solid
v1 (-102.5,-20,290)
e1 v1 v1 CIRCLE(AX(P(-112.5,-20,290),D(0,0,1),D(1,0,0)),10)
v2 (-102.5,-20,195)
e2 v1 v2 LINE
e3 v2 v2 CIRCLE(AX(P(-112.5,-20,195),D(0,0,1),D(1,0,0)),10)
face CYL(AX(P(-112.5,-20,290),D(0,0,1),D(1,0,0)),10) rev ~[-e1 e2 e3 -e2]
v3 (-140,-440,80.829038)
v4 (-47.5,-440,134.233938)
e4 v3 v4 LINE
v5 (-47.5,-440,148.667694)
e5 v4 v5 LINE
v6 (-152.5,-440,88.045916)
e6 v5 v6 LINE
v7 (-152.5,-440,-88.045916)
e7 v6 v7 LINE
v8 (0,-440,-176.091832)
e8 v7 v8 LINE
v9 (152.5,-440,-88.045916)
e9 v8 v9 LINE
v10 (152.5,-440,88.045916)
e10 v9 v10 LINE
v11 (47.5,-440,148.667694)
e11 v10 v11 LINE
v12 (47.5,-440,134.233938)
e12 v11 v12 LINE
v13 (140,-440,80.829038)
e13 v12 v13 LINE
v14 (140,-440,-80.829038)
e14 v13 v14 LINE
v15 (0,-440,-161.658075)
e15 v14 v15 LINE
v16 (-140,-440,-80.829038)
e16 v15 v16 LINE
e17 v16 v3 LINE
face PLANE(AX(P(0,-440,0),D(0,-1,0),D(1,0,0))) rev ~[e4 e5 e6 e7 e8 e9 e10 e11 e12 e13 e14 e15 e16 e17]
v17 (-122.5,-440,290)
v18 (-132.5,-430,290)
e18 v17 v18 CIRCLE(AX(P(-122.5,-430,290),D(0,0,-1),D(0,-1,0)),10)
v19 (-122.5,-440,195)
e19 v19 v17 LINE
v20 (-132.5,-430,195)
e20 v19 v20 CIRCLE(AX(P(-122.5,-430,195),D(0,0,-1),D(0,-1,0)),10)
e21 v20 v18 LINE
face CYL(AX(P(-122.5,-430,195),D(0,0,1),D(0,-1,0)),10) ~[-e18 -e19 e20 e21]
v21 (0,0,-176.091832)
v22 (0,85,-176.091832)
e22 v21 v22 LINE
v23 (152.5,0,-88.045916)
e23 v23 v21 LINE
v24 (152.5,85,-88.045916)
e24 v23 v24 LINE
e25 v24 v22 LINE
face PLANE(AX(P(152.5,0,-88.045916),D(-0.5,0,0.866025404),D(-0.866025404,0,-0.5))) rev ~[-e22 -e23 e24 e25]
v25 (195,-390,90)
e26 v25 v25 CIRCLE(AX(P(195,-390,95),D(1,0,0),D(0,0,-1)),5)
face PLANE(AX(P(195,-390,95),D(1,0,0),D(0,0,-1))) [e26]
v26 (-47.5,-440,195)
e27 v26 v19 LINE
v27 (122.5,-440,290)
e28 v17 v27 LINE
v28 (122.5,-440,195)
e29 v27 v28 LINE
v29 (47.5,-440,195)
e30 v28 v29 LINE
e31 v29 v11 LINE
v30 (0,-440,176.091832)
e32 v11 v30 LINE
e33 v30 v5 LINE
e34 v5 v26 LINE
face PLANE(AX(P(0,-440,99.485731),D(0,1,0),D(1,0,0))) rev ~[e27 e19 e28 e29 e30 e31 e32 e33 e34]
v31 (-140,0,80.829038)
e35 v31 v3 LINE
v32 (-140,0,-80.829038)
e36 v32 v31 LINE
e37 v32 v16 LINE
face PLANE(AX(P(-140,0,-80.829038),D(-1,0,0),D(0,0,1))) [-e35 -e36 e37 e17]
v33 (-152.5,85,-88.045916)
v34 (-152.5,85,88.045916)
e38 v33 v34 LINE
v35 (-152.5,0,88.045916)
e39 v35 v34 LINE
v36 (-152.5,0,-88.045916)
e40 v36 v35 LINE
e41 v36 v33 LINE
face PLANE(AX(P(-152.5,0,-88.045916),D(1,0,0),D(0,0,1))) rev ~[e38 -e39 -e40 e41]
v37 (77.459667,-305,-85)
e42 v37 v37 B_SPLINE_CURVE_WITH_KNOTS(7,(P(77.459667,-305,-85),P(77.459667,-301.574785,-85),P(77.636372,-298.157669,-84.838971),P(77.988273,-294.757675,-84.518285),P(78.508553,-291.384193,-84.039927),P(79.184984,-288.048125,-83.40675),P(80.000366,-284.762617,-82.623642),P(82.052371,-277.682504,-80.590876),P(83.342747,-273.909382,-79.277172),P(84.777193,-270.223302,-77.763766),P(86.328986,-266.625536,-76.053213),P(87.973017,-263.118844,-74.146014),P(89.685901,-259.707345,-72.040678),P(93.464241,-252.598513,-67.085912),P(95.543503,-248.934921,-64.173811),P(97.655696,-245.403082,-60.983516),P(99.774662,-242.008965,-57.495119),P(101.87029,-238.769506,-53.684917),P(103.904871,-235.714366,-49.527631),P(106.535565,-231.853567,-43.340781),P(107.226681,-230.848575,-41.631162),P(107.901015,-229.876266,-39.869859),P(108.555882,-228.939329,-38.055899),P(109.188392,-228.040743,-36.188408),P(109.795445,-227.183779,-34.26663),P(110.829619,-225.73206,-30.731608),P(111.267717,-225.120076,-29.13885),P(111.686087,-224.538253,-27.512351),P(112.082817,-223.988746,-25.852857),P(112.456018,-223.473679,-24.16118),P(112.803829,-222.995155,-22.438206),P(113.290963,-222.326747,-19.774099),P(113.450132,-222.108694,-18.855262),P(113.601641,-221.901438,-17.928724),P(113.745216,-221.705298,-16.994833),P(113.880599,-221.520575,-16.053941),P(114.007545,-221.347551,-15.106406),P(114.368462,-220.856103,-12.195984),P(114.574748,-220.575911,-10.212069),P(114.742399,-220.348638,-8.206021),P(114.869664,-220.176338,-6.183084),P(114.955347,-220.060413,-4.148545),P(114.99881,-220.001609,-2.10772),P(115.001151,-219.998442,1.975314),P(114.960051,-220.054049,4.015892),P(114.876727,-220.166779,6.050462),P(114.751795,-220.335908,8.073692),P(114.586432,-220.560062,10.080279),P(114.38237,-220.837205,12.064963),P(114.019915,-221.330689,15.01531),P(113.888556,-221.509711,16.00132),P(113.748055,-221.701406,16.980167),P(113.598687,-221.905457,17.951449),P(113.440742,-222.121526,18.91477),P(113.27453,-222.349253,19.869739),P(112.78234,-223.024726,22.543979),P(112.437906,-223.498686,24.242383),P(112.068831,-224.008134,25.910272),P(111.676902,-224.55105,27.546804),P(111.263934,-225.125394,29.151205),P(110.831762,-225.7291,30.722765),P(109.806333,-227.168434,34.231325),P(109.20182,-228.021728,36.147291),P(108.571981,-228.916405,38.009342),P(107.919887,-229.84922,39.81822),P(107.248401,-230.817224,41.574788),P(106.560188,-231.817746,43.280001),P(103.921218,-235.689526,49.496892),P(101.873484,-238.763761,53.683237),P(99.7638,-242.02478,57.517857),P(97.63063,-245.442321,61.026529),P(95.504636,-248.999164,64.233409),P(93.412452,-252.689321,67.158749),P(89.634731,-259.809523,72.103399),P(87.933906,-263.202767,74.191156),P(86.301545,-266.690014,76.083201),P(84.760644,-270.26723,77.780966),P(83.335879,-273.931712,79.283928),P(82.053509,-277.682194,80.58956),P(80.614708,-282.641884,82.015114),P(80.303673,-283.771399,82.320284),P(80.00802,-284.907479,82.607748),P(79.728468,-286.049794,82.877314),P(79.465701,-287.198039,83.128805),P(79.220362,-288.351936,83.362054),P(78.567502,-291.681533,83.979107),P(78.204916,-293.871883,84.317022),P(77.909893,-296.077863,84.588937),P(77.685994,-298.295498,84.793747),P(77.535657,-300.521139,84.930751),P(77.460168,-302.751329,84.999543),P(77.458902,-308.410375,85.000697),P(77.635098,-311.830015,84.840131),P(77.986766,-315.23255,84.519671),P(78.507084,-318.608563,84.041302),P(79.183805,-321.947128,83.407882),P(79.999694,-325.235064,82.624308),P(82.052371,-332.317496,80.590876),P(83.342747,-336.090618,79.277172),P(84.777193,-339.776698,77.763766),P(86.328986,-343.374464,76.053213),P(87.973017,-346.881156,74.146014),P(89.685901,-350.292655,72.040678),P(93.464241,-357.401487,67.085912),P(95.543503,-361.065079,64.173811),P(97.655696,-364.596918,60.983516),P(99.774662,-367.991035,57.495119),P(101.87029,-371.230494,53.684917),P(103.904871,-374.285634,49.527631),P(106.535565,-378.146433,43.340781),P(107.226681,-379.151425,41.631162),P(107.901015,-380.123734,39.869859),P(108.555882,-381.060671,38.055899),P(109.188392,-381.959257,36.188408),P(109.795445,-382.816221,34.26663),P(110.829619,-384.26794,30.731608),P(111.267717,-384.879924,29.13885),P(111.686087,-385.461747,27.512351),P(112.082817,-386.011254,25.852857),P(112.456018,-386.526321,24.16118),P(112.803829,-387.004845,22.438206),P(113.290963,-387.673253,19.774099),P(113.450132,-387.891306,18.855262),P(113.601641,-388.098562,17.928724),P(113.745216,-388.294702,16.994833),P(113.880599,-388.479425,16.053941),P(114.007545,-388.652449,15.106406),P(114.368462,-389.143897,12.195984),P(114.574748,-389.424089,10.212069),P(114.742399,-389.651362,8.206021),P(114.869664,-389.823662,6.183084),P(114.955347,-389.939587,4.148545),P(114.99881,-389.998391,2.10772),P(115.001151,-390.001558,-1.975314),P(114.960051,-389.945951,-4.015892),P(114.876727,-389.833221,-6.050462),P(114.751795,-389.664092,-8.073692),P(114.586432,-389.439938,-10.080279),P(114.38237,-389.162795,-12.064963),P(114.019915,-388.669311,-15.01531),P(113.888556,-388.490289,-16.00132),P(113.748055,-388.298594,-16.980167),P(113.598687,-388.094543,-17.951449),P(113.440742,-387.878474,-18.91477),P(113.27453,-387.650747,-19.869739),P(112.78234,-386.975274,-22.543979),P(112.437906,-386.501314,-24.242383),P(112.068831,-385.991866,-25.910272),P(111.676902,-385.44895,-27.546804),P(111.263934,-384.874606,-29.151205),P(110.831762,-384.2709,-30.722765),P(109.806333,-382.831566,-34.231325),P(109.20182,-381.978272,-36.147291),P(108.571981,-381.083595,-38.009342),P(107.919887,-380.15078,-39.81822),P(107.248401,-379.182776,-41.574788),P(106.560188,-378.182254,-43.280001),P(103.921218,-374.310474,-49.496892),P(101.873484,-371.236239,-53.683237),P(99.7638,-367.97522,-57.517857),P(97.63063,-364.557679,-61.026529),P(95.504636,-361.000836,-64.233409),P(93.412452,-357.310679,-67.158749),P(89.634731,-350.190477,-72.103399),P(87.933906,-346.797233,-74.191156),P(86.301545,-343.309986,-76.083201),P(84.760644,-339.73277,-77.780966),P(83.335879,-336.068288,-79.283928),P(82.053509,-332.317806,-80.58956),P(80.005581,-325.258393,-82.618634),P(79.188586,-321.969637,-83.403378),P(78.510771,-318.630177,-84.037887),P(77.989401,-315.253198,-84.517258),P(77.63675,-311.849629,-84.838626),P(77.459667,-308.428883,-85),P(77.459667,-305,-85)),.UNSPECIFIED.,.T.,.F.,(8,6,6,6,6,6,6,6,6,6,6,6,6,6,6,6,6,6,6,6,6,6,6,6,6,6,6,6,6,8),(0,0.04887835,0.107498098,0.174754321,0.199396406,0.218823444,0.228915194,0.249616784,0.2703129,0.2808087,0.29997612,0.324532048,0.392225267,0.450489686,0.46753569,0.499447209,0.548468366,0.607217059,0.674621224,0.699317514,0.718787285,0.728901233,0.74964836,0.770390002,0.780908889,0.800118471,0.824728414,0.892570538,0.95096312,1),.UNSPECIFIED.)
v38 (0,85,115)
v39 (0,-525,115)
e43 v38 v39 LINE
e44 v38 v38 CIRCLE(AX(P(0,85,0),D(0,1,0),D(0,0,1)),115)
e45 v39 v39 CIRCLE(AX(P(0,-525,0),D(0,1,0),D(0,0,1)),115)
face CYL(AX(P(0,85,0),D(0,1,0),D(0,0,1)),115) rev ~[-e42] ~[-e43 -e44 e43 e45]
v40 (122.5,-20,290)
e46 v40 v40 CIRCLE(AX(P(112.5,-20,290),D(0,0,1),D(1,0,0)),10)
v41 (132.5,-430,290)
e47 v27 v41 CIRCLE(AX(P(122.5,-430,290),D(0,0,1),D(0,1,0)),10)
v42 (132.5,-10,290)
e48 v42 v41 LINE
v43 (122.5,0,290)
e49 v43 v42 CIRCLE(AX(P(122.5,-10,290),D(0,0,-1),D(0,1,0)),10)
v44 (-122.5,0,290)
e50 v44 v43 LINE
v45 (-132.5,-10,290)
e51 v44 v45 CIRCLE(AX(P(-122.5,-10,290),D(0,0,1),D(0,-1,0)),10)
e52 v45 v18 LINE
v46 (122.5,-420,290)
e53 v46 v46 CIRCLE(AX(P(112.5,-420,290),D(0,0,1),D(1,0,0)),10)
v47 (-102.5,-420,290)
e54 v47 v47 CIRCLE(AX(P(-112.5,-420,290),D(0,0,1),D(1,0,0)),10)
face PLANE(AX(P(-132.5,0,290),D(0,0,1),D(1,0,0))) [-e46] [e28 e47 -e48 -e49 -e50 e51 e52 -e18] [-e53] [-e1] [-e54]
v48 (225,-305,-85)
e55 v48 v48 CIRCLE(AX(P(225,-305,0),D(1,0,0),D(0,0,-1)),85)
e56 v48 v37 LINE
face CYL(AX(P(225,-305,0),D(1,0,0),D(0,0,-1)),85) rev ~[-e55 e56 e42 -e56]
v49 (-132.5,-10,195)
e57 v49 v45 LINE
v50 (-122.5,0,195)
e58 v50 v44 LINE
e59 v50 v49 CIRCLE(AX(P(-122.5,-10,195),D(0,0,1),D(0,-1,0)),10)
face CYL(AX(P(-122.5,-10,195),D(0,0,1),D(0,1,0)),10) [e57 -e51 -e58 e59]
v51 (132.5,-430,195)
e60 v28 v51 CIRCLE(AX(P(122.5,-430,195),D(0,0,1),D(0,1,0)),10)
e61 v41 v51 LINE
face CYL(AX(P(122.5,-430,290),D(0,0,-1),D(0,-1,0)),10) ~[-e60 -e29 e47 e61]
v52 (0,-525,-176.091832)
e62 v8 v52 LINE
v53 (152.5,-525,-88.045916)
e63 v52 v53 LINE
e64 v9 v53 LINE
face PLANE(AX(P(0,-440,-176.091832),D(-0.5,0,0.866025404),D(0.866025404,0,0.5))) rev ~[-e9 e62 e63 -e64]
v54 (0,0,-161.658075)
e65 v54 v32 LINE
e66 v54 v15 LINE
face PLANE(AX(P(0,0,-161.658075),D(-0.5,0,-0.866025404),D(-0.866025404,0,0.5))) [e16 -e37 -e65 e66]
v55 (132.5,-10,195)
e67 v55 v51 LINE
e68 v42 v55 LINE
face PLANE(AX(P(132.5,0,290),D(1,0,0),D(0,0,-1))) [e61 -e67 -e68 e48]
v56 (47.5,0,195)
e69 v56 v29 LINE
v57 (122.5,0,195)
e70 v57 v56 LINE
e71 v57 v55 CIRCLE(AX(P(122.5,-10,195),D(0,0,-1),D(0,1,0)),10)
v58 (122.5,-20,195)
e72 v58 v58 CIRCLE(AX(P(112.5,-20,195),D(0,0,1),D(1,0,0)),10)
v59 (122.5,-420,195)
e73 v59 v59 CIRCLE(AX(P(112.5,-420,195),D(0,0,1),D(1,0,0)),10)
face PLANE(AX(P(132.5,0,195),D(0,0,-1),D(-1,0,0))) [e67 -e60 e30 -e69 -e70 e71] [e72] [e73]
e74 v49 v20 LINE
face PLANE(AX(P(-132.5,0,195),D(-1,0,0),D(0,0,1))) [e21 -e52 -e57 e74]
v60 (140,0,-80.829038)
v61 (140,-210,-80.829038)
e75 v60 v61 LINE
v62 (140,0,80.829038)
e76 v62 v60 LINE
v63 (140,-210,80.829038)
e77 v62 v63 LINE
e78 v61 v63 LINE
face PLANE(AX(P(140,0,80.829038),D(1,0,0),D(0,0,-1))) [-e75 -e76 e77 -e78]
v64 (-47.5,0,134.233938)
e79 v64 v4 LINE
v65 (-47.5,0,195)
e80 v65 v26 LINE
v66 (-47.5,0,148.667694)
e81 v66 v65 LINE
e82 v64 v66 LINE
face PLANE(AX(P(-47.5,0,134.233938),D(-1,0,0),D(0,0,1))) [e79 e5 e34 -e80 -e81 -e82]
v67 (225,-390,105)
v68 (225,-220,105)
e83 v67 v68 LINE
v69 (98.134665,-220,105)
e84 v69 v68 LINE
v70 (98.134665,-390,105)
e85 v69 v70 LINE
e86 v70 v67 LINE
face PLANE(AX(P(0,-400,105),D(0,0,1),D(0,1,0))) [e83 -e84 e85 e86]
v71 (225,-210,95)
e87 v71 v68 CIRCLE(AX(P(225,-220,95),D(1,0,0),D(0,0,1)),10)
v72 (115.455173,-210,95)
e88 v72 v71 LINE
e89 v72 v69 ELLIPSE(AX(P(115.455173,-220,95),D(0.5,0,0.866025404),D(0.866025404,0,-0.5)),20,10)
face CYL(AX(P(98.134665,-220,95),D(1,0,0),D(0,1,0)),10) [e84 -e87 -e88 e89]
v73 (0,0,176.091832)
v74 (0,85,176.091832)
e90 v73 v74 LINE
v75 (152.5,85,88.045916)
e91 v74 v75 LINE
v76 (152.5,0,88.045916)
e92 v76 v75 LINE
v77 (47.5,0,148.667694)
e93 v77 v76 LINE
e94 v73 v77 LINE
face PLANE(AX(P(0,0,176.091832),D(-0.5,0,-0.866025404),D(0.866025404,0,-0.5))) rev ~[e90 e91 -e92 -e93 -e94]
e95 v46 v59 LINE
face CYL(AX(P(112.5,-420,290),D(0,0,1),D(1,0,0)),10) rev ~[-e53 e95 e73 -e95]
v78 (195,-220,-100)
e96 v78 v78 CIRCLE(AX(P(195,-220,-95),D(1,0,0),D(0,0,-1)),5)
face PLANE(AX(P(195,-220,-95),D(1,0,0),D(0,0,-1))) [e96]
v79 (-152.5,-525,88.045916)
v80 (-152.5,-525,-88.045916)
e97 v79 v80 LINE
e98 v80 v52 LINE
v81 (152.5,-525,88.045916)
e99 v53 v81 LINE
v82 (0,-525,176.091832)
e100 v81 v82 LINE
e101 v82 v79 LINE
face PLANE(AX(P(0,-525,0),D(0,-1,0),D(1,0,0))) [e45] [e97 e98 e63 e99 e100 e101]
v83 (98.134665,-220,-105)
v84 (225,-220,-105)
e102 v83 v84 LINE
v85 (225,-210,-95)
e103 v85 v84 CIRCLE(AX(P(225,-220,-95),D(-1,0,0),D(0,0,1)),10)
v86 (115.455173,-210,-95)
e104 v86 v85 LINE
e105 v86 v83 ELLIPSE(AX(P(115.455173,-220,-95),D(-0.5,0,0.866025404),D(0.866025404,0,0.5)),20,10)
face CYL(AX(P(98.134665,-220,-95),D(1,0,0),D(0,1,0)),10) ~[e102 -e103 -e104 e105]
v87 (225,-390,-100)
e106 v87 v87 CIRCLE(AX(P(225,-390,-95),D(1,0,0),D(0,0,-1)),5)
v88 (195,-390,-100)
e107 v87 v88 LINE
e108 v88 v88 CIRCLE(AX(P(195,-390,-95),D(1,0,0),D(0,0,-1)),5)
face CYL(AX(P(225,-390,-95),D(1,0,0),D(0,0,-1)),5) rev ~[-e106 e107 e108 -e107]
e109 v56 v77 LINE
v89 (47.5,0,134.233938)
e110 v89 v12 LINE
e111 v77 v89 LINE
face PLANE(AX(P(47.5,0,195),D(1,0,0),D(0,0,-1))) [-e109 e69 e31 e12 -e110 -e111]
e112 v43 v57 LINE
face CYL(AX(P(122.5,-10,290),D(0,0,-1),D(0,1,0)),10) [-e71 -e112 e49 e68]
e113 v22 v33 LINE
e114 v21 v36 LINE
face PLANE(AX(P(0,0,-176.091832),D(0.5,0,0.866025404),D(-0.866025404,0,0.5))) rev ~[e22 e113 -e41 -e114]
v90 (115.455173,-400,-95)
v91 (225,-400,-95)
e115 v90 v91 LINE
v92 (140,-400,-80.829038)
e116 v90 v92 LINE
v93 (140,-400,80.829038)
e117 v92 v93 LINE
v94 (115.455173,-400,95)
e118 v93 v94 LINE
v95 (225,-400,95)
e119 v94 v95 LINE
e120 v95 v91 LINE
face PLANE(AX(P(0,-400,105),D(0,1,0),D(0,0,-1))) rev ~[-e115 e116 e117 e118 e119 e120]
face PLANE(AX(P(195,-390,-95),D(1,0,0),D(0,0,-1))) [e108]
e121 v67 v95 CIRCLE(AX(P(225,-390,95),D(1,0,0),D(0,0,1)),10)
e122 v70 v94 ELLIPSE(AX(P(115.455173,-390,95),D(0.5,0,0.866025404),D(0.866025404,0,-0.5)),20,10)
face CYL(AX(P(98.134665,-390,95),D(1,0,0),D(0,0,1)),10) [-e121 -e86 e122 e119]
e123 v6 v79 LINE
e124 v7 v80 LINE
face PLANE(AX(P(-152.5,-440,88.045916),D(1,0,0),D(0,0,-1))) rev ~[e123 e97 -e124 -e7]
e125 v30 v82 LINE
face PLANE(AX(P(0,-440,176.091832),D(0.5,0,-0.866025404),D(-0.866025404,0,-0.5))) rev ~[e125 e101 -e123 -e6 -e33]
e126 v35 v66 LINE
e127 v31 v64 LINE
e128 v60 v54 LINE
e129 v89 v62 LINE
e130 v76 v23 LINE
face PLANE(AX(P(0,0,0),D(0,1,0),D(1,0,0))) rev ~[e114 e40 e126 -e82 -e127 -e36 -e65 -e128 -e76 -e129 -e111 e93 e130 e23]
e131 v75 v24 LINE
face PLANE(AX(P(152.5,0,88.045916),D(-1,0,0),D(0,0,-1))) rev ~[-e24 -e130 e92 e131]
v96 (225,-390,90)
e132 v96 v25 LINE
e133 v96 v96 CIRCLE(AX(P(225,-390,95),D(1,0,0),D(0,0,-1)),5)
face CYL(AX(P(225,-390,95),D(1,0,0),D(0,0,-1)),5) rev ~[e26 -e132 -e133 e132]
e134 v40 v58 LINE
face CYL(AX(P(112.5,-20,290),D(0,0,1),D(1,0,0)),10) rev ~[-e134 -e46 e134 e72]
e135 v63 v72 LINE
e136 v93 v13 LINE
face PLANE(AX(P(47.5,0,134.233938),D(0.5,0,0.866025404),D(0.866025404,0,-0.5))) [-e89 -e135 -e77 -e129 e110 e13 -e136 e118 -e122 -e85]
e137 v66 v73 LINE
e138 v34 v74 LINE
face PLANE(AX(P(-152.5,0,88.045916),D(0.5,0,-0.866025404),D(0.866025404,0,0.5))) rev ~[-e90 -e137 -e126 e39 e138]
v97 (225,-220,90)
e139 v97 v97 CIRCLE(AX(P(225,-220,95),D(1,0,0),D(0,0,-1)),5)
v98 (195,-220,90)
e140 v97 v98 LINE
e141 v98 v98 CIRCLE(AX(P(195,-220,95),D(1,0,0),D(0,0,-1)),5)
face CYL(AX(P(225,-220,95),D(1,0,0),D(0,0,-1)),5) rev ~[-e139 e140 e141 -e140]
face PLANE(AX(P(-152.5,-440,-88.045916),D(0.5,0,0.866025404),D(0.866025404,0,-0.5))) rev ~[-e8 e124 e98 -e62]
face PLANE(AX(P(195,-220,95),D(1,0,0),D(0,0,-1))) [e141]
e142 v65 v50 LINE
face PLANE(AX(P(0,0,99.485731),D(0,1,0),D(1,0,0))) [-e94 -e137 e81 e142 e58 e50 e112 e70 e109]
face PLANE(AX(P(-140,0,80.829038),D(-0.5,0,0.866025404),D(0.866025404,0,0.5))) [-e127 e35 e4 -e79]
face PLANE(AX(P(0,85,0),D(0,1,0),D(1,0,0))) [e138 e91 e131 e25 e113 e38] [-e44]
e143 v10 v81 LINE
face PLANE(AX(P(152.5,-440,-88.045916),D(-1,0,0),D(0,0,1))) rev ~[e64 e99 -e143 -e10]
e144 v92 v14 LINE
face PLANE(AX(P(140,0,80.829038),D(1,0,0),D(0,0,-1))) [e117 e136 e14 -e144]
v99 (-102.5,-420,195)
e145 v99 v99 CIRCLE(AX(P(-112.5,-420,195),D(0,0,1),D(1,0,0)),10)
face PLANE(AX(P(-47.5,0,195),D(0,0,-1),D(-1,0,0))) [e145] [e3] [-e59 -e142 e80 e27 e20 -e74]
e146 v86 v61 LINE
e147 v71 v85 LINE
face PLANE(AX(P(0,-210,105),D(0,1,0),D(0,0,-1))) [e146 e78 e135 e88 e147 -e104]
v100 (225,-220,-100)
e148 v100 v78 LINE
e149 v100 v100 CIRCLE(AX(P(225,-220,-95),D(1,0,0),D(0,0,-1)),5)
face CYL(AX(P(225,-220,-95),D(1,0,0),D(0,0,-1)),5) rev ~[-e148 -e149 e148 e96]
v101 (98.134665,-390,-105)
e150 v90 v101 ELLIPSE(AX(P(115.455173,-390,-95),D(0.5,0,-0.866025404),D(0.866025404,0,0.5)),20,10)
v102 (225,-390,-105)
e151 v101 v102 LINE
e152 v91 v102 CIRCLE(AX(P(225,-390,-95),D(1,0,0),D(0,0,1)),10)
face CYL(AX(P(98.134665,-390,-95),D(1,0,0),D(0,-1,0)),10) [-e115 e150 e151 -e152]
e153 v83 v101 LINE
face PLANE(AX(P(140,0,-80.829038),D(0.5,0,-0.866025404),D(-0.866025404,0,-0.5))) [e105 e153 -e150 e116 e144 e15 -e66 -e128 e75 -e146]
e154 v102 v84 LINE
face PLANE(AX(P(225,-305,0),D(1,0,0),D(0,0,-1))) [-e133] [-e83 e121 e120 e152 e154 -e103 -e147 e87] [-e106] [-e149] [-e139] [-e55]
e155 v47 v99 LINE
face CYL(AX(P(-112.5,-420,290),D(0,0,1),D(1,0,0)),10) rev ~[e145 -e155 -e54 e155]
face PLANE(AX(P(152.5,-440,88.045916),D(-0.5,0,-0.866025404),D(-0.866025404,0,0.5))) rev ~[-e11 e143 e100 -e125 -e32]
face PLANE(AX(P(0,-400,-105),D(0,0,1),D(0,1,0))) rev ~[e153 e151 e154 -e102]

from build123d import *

# Parameters (mm, degrees)
EXTRUDE_1_DEPTH             = 85
EXTRUDE_798_DEPTH           = 440
EXTRUDE_2_DEPTH             = 85
EXTRUDE_1413_DEPTH          = 85
EXTRUDE_1413_DEPTH_BACK     = 140
SKETCH_10_W                 = 210
SKETCH_10_H                 = 190
SKETCH_5_R                  = 115
CUT_EXTRUDE_1475_DEPTH      = 712.91642768
CUT_EXTRUDE_1609_REACH      = 710.683
CUT_EXTRUDE_1609_END_RADIUS = 115
SKETCH_12_R                 = 85
CUT_EXTRUDE_2000_REACH      = 739.219
SKETCH_13_R                 = 10
SKETCH_14_R                 = 5
CUT_EXTRUDE_6_DEPTH         = 30
FILLET_2_R                  = 10
FILLET_3_R                  = 10


with BuildPart() as part:
    # Эскиз2 → Боковой многогранник 1 (new body)
    with BuildSketch(Plane(origin=(0, 0, 0), x_dir=(1, 0, 0), z_dir=(0, 1, 0))):
        Polygon((0, 176.091832103), (-152.5, 88.045916051), (-152.5, -88.045916051), (0, -176.091832103), (152.5, -88.045916051), (152.5, 88.045916051), align=None)
    extrude(amount=EXTRUDE_1_DEPTH)

    # Sketch 344 → Extrude 798 (add)
    with BuildSketch(Plane(origin=(0, 0, 0), x_dir=(1, 0, 0), z_dir=(0, 1, 0))):
        Polygon((0, 161.658075373), (-140, 80.829037687), (-140, -80.829037687), (-47.5, -134.233937587), (-47.5, -195), (-132.5, -195), (-132.5, -290), (132.5, -290), (132.5, -195), (47.5, -195), (47.5, -134.233937587), (140, -80.829037687), (140, 80.829037687), align=None)
    extrude(amount=-EXTRUDE_798_DEPTH)

    # Эскиз4 → Боковой многогранник 2 (add)
    with BuildSketch(Plane.XZ.offset(440)):
        Polygon((0, -176.091832103), (152.5, -88.045916051), (152.5, 88.045916051), (0, 176.091832103), (-152.5, 88.045916051), (-152.5, -88.045916051), align=None)
    extrude(amount=EXTRUDE_2_DEPTH)

    # Эскиз10 → Extrude 1413 (add, two sides: drawn at the far end of the back side and taken through both)
    with BuildSketch(Plane(origin=(140, 0, 0), x_dir=(0, 0, -1), z_dir=(1, 0, 0)).offset(-EXTRUDE_1413_DEPTH_BACK)):
        with Locations((0, -305)):
            Rectangle(SKETCH_10_W, SKETCH_10_H)
    extrude(amount=EXTRUDE_1413_DEPTH + EXTRUDE_1413_DEPTH_BACK)

    # Эскиз5 → Cut-Extrude 1475 (cut, through all)
    with BuildSketch(Plane(origin=(0, 85, 0), x_dir=(1, 0, 0), z_dir=(0, 1, 0))):
        with Locations(Location((0, 0, 0), (0, 0, 270))):
            Circle(SKETCH_5_R)
    extrude(amount=-CUT_EXTRUDE_1475_DEPTH, mode=Mode.SUBTRACT)

    # Cut-Extrude 1609: up to this cylinder (the profile starts outside it)
    cut_extrude_1609_end = Plane(origin=(0, -305, 0), z_dir=(0, 1, 0)) * Cylinder(CUT_EXTRUDE_1609_END_RADIUS, 1652.366, mode=Mode.PRIVATE)
    # Эскиз12 → Cut-Extrude 1609 (cut, up to the surface)
    with BuildSketch(Plane(origin=(225, 0, 0), x_dir=(0, 0, -1), z_dir=(1, 0, 0)), mode=Mode.PRIVATE) as cut_extrude_1609_sk1:
        with Locations((0, -305)):
            Circle(SKETCH_12_R)
    cut_extrude_1609_tool1 = extrude(cut_extrude_1609_sk1.sketch, amount=-CUT_EXTRUDE_1609_REACH, mode=Mode.PRIVATE) - cut_extrude_1609_end
    add(cut_extrude_1609_tool1.solids().sort_by_distance((225, -305, 0))[0], mode=Mode.SUBTRACT)

    # Эскиз13 → Cut-Extrude 2000 (cut, up to next)
    with BuildSketch(Plane.XY.offset(290), mode=Mode.PRIVATE) as cut_extrude_2000_sk1:
        with Locations((-112.5, -420)):
            Circle(SKETCH_13_R)
    cut_extrude_2000_tool1 = extrude(cut_extrude_2000_sk1.sketch, amount=-CUT_EXTRUDE_2000_REACH, mode=Mode.PRIVATE) & part.part
    # Эскиз13 → Cut-Extrude 2000 (cut, up to next)
    with BuildSketch(Plane.XY.offset(290), mode=Mode.PRIVATE) as cut_extrude_2000_sk2:
        with Locations((112.5, -420)):
            Circle(SKETCH_13_R)
    cut_extrude_2000_tool2 = extrude(cut_extrude_2000_sk2.sketch, amount=-CUT_EXTRUDE_2000_REACH, mode=Mode.PRIVATE) & part.part
    # Эскиз13 → Cut-Extrude 2000 (cut, up to next)
    with BuildSketch(Plane.XY.offset(290), mode=Mode.PRIVATE) as cut_extrude_2000_sk3:
        with Locations((-112.5, -20)):
            Circle(SKETCH_13_R)
    cut_extrude_2000_tool3 = extrude(cut_extrude_2000_sk3.sketch, amount=-CUT_EXTRUDE_2000_REACH, mode=Mode.PRIVATE) & part.part
    # Эскиз13 → Cut-Extrude 2000 (cut, up to next)
    with BuildSketch(Plane.XY.offset(290), mode=Mode.PRIVATE) as cut_extrude_2000_sk4:
        with Locations((112.5, -20)):
            Circle(SKETCH_13_R)
    cut_extrude_2000_tool4 = extrude(cut_extrude_2000_sk4.sketch, amount=-CUT_EXTRUDE_2000_REACH, mode=Mode.PRIVATE) & part.part
    add(cut_extrude_2000_tool1.solids().sort_by_distance((-112.5, -420, 290))[0], mode=Mode.SUBTRACT)
    add(cut_extrude_2000_tool2.solids().sort_by_distance((112.5, -420, 290))[0], mode=Mode.SUBTRACT)
    add(cut_extrude_2000_tool3.solids().sort_by_distance((-112.5, -20, 290))[0], mode=Mode.SUBTRACT)
    add(cut_extrude_2000_tool4.solids().sort_by_distance((112.5, -20, 290))[0], mode=Mode.SUBTRACT)

    # Эскиз14 → Вырез-Вытянуть6 (cut)
    with BuildSketch(Plane(origin=(225, 0, 0), x_dir=(0, 0, -1), z_dir=(1, 0, 0))):
        with Locations((95, -220)):
            Circle(SKETCH_14_R)
        with Locations((95, -390)):
            Circle(SKETCH_14_R)
        with Locations((-95, -220)):
            Circle(SKETCH_14_R)
        with Locations((-95, -390)):
            Circle(SKETCH_14_R)
    extrude(amount=-CUT_EXTRUDE_6_DEPTH, mode=Mode.SUBTRACT)

    # Скругление2
    fillet_2_edges = [part.edges().sort_by_distance(p)[0] for p in [
        (132.5, -440, 242.5),
        (-132.5, -440, 242.5),
        (-132.5, 0, 242.5),
        (132.5, 0, 242.5),
    ]]
    fillet(fillet_2_edges, radius=FILLET_2_R)

    # Скругление3
    fillet_3_edges = [part.edges().sort_by_distance(p)[0] for p in [
        (161.567332603, -210, -105),
        (161.567332603, -400, -105),
        (161.567332603, -400, 105),
        (161.567332603, -210, 105),
    ]]
    fillet(fillet_3_edges, radius=FILLET_3_R)


solid = part.part
